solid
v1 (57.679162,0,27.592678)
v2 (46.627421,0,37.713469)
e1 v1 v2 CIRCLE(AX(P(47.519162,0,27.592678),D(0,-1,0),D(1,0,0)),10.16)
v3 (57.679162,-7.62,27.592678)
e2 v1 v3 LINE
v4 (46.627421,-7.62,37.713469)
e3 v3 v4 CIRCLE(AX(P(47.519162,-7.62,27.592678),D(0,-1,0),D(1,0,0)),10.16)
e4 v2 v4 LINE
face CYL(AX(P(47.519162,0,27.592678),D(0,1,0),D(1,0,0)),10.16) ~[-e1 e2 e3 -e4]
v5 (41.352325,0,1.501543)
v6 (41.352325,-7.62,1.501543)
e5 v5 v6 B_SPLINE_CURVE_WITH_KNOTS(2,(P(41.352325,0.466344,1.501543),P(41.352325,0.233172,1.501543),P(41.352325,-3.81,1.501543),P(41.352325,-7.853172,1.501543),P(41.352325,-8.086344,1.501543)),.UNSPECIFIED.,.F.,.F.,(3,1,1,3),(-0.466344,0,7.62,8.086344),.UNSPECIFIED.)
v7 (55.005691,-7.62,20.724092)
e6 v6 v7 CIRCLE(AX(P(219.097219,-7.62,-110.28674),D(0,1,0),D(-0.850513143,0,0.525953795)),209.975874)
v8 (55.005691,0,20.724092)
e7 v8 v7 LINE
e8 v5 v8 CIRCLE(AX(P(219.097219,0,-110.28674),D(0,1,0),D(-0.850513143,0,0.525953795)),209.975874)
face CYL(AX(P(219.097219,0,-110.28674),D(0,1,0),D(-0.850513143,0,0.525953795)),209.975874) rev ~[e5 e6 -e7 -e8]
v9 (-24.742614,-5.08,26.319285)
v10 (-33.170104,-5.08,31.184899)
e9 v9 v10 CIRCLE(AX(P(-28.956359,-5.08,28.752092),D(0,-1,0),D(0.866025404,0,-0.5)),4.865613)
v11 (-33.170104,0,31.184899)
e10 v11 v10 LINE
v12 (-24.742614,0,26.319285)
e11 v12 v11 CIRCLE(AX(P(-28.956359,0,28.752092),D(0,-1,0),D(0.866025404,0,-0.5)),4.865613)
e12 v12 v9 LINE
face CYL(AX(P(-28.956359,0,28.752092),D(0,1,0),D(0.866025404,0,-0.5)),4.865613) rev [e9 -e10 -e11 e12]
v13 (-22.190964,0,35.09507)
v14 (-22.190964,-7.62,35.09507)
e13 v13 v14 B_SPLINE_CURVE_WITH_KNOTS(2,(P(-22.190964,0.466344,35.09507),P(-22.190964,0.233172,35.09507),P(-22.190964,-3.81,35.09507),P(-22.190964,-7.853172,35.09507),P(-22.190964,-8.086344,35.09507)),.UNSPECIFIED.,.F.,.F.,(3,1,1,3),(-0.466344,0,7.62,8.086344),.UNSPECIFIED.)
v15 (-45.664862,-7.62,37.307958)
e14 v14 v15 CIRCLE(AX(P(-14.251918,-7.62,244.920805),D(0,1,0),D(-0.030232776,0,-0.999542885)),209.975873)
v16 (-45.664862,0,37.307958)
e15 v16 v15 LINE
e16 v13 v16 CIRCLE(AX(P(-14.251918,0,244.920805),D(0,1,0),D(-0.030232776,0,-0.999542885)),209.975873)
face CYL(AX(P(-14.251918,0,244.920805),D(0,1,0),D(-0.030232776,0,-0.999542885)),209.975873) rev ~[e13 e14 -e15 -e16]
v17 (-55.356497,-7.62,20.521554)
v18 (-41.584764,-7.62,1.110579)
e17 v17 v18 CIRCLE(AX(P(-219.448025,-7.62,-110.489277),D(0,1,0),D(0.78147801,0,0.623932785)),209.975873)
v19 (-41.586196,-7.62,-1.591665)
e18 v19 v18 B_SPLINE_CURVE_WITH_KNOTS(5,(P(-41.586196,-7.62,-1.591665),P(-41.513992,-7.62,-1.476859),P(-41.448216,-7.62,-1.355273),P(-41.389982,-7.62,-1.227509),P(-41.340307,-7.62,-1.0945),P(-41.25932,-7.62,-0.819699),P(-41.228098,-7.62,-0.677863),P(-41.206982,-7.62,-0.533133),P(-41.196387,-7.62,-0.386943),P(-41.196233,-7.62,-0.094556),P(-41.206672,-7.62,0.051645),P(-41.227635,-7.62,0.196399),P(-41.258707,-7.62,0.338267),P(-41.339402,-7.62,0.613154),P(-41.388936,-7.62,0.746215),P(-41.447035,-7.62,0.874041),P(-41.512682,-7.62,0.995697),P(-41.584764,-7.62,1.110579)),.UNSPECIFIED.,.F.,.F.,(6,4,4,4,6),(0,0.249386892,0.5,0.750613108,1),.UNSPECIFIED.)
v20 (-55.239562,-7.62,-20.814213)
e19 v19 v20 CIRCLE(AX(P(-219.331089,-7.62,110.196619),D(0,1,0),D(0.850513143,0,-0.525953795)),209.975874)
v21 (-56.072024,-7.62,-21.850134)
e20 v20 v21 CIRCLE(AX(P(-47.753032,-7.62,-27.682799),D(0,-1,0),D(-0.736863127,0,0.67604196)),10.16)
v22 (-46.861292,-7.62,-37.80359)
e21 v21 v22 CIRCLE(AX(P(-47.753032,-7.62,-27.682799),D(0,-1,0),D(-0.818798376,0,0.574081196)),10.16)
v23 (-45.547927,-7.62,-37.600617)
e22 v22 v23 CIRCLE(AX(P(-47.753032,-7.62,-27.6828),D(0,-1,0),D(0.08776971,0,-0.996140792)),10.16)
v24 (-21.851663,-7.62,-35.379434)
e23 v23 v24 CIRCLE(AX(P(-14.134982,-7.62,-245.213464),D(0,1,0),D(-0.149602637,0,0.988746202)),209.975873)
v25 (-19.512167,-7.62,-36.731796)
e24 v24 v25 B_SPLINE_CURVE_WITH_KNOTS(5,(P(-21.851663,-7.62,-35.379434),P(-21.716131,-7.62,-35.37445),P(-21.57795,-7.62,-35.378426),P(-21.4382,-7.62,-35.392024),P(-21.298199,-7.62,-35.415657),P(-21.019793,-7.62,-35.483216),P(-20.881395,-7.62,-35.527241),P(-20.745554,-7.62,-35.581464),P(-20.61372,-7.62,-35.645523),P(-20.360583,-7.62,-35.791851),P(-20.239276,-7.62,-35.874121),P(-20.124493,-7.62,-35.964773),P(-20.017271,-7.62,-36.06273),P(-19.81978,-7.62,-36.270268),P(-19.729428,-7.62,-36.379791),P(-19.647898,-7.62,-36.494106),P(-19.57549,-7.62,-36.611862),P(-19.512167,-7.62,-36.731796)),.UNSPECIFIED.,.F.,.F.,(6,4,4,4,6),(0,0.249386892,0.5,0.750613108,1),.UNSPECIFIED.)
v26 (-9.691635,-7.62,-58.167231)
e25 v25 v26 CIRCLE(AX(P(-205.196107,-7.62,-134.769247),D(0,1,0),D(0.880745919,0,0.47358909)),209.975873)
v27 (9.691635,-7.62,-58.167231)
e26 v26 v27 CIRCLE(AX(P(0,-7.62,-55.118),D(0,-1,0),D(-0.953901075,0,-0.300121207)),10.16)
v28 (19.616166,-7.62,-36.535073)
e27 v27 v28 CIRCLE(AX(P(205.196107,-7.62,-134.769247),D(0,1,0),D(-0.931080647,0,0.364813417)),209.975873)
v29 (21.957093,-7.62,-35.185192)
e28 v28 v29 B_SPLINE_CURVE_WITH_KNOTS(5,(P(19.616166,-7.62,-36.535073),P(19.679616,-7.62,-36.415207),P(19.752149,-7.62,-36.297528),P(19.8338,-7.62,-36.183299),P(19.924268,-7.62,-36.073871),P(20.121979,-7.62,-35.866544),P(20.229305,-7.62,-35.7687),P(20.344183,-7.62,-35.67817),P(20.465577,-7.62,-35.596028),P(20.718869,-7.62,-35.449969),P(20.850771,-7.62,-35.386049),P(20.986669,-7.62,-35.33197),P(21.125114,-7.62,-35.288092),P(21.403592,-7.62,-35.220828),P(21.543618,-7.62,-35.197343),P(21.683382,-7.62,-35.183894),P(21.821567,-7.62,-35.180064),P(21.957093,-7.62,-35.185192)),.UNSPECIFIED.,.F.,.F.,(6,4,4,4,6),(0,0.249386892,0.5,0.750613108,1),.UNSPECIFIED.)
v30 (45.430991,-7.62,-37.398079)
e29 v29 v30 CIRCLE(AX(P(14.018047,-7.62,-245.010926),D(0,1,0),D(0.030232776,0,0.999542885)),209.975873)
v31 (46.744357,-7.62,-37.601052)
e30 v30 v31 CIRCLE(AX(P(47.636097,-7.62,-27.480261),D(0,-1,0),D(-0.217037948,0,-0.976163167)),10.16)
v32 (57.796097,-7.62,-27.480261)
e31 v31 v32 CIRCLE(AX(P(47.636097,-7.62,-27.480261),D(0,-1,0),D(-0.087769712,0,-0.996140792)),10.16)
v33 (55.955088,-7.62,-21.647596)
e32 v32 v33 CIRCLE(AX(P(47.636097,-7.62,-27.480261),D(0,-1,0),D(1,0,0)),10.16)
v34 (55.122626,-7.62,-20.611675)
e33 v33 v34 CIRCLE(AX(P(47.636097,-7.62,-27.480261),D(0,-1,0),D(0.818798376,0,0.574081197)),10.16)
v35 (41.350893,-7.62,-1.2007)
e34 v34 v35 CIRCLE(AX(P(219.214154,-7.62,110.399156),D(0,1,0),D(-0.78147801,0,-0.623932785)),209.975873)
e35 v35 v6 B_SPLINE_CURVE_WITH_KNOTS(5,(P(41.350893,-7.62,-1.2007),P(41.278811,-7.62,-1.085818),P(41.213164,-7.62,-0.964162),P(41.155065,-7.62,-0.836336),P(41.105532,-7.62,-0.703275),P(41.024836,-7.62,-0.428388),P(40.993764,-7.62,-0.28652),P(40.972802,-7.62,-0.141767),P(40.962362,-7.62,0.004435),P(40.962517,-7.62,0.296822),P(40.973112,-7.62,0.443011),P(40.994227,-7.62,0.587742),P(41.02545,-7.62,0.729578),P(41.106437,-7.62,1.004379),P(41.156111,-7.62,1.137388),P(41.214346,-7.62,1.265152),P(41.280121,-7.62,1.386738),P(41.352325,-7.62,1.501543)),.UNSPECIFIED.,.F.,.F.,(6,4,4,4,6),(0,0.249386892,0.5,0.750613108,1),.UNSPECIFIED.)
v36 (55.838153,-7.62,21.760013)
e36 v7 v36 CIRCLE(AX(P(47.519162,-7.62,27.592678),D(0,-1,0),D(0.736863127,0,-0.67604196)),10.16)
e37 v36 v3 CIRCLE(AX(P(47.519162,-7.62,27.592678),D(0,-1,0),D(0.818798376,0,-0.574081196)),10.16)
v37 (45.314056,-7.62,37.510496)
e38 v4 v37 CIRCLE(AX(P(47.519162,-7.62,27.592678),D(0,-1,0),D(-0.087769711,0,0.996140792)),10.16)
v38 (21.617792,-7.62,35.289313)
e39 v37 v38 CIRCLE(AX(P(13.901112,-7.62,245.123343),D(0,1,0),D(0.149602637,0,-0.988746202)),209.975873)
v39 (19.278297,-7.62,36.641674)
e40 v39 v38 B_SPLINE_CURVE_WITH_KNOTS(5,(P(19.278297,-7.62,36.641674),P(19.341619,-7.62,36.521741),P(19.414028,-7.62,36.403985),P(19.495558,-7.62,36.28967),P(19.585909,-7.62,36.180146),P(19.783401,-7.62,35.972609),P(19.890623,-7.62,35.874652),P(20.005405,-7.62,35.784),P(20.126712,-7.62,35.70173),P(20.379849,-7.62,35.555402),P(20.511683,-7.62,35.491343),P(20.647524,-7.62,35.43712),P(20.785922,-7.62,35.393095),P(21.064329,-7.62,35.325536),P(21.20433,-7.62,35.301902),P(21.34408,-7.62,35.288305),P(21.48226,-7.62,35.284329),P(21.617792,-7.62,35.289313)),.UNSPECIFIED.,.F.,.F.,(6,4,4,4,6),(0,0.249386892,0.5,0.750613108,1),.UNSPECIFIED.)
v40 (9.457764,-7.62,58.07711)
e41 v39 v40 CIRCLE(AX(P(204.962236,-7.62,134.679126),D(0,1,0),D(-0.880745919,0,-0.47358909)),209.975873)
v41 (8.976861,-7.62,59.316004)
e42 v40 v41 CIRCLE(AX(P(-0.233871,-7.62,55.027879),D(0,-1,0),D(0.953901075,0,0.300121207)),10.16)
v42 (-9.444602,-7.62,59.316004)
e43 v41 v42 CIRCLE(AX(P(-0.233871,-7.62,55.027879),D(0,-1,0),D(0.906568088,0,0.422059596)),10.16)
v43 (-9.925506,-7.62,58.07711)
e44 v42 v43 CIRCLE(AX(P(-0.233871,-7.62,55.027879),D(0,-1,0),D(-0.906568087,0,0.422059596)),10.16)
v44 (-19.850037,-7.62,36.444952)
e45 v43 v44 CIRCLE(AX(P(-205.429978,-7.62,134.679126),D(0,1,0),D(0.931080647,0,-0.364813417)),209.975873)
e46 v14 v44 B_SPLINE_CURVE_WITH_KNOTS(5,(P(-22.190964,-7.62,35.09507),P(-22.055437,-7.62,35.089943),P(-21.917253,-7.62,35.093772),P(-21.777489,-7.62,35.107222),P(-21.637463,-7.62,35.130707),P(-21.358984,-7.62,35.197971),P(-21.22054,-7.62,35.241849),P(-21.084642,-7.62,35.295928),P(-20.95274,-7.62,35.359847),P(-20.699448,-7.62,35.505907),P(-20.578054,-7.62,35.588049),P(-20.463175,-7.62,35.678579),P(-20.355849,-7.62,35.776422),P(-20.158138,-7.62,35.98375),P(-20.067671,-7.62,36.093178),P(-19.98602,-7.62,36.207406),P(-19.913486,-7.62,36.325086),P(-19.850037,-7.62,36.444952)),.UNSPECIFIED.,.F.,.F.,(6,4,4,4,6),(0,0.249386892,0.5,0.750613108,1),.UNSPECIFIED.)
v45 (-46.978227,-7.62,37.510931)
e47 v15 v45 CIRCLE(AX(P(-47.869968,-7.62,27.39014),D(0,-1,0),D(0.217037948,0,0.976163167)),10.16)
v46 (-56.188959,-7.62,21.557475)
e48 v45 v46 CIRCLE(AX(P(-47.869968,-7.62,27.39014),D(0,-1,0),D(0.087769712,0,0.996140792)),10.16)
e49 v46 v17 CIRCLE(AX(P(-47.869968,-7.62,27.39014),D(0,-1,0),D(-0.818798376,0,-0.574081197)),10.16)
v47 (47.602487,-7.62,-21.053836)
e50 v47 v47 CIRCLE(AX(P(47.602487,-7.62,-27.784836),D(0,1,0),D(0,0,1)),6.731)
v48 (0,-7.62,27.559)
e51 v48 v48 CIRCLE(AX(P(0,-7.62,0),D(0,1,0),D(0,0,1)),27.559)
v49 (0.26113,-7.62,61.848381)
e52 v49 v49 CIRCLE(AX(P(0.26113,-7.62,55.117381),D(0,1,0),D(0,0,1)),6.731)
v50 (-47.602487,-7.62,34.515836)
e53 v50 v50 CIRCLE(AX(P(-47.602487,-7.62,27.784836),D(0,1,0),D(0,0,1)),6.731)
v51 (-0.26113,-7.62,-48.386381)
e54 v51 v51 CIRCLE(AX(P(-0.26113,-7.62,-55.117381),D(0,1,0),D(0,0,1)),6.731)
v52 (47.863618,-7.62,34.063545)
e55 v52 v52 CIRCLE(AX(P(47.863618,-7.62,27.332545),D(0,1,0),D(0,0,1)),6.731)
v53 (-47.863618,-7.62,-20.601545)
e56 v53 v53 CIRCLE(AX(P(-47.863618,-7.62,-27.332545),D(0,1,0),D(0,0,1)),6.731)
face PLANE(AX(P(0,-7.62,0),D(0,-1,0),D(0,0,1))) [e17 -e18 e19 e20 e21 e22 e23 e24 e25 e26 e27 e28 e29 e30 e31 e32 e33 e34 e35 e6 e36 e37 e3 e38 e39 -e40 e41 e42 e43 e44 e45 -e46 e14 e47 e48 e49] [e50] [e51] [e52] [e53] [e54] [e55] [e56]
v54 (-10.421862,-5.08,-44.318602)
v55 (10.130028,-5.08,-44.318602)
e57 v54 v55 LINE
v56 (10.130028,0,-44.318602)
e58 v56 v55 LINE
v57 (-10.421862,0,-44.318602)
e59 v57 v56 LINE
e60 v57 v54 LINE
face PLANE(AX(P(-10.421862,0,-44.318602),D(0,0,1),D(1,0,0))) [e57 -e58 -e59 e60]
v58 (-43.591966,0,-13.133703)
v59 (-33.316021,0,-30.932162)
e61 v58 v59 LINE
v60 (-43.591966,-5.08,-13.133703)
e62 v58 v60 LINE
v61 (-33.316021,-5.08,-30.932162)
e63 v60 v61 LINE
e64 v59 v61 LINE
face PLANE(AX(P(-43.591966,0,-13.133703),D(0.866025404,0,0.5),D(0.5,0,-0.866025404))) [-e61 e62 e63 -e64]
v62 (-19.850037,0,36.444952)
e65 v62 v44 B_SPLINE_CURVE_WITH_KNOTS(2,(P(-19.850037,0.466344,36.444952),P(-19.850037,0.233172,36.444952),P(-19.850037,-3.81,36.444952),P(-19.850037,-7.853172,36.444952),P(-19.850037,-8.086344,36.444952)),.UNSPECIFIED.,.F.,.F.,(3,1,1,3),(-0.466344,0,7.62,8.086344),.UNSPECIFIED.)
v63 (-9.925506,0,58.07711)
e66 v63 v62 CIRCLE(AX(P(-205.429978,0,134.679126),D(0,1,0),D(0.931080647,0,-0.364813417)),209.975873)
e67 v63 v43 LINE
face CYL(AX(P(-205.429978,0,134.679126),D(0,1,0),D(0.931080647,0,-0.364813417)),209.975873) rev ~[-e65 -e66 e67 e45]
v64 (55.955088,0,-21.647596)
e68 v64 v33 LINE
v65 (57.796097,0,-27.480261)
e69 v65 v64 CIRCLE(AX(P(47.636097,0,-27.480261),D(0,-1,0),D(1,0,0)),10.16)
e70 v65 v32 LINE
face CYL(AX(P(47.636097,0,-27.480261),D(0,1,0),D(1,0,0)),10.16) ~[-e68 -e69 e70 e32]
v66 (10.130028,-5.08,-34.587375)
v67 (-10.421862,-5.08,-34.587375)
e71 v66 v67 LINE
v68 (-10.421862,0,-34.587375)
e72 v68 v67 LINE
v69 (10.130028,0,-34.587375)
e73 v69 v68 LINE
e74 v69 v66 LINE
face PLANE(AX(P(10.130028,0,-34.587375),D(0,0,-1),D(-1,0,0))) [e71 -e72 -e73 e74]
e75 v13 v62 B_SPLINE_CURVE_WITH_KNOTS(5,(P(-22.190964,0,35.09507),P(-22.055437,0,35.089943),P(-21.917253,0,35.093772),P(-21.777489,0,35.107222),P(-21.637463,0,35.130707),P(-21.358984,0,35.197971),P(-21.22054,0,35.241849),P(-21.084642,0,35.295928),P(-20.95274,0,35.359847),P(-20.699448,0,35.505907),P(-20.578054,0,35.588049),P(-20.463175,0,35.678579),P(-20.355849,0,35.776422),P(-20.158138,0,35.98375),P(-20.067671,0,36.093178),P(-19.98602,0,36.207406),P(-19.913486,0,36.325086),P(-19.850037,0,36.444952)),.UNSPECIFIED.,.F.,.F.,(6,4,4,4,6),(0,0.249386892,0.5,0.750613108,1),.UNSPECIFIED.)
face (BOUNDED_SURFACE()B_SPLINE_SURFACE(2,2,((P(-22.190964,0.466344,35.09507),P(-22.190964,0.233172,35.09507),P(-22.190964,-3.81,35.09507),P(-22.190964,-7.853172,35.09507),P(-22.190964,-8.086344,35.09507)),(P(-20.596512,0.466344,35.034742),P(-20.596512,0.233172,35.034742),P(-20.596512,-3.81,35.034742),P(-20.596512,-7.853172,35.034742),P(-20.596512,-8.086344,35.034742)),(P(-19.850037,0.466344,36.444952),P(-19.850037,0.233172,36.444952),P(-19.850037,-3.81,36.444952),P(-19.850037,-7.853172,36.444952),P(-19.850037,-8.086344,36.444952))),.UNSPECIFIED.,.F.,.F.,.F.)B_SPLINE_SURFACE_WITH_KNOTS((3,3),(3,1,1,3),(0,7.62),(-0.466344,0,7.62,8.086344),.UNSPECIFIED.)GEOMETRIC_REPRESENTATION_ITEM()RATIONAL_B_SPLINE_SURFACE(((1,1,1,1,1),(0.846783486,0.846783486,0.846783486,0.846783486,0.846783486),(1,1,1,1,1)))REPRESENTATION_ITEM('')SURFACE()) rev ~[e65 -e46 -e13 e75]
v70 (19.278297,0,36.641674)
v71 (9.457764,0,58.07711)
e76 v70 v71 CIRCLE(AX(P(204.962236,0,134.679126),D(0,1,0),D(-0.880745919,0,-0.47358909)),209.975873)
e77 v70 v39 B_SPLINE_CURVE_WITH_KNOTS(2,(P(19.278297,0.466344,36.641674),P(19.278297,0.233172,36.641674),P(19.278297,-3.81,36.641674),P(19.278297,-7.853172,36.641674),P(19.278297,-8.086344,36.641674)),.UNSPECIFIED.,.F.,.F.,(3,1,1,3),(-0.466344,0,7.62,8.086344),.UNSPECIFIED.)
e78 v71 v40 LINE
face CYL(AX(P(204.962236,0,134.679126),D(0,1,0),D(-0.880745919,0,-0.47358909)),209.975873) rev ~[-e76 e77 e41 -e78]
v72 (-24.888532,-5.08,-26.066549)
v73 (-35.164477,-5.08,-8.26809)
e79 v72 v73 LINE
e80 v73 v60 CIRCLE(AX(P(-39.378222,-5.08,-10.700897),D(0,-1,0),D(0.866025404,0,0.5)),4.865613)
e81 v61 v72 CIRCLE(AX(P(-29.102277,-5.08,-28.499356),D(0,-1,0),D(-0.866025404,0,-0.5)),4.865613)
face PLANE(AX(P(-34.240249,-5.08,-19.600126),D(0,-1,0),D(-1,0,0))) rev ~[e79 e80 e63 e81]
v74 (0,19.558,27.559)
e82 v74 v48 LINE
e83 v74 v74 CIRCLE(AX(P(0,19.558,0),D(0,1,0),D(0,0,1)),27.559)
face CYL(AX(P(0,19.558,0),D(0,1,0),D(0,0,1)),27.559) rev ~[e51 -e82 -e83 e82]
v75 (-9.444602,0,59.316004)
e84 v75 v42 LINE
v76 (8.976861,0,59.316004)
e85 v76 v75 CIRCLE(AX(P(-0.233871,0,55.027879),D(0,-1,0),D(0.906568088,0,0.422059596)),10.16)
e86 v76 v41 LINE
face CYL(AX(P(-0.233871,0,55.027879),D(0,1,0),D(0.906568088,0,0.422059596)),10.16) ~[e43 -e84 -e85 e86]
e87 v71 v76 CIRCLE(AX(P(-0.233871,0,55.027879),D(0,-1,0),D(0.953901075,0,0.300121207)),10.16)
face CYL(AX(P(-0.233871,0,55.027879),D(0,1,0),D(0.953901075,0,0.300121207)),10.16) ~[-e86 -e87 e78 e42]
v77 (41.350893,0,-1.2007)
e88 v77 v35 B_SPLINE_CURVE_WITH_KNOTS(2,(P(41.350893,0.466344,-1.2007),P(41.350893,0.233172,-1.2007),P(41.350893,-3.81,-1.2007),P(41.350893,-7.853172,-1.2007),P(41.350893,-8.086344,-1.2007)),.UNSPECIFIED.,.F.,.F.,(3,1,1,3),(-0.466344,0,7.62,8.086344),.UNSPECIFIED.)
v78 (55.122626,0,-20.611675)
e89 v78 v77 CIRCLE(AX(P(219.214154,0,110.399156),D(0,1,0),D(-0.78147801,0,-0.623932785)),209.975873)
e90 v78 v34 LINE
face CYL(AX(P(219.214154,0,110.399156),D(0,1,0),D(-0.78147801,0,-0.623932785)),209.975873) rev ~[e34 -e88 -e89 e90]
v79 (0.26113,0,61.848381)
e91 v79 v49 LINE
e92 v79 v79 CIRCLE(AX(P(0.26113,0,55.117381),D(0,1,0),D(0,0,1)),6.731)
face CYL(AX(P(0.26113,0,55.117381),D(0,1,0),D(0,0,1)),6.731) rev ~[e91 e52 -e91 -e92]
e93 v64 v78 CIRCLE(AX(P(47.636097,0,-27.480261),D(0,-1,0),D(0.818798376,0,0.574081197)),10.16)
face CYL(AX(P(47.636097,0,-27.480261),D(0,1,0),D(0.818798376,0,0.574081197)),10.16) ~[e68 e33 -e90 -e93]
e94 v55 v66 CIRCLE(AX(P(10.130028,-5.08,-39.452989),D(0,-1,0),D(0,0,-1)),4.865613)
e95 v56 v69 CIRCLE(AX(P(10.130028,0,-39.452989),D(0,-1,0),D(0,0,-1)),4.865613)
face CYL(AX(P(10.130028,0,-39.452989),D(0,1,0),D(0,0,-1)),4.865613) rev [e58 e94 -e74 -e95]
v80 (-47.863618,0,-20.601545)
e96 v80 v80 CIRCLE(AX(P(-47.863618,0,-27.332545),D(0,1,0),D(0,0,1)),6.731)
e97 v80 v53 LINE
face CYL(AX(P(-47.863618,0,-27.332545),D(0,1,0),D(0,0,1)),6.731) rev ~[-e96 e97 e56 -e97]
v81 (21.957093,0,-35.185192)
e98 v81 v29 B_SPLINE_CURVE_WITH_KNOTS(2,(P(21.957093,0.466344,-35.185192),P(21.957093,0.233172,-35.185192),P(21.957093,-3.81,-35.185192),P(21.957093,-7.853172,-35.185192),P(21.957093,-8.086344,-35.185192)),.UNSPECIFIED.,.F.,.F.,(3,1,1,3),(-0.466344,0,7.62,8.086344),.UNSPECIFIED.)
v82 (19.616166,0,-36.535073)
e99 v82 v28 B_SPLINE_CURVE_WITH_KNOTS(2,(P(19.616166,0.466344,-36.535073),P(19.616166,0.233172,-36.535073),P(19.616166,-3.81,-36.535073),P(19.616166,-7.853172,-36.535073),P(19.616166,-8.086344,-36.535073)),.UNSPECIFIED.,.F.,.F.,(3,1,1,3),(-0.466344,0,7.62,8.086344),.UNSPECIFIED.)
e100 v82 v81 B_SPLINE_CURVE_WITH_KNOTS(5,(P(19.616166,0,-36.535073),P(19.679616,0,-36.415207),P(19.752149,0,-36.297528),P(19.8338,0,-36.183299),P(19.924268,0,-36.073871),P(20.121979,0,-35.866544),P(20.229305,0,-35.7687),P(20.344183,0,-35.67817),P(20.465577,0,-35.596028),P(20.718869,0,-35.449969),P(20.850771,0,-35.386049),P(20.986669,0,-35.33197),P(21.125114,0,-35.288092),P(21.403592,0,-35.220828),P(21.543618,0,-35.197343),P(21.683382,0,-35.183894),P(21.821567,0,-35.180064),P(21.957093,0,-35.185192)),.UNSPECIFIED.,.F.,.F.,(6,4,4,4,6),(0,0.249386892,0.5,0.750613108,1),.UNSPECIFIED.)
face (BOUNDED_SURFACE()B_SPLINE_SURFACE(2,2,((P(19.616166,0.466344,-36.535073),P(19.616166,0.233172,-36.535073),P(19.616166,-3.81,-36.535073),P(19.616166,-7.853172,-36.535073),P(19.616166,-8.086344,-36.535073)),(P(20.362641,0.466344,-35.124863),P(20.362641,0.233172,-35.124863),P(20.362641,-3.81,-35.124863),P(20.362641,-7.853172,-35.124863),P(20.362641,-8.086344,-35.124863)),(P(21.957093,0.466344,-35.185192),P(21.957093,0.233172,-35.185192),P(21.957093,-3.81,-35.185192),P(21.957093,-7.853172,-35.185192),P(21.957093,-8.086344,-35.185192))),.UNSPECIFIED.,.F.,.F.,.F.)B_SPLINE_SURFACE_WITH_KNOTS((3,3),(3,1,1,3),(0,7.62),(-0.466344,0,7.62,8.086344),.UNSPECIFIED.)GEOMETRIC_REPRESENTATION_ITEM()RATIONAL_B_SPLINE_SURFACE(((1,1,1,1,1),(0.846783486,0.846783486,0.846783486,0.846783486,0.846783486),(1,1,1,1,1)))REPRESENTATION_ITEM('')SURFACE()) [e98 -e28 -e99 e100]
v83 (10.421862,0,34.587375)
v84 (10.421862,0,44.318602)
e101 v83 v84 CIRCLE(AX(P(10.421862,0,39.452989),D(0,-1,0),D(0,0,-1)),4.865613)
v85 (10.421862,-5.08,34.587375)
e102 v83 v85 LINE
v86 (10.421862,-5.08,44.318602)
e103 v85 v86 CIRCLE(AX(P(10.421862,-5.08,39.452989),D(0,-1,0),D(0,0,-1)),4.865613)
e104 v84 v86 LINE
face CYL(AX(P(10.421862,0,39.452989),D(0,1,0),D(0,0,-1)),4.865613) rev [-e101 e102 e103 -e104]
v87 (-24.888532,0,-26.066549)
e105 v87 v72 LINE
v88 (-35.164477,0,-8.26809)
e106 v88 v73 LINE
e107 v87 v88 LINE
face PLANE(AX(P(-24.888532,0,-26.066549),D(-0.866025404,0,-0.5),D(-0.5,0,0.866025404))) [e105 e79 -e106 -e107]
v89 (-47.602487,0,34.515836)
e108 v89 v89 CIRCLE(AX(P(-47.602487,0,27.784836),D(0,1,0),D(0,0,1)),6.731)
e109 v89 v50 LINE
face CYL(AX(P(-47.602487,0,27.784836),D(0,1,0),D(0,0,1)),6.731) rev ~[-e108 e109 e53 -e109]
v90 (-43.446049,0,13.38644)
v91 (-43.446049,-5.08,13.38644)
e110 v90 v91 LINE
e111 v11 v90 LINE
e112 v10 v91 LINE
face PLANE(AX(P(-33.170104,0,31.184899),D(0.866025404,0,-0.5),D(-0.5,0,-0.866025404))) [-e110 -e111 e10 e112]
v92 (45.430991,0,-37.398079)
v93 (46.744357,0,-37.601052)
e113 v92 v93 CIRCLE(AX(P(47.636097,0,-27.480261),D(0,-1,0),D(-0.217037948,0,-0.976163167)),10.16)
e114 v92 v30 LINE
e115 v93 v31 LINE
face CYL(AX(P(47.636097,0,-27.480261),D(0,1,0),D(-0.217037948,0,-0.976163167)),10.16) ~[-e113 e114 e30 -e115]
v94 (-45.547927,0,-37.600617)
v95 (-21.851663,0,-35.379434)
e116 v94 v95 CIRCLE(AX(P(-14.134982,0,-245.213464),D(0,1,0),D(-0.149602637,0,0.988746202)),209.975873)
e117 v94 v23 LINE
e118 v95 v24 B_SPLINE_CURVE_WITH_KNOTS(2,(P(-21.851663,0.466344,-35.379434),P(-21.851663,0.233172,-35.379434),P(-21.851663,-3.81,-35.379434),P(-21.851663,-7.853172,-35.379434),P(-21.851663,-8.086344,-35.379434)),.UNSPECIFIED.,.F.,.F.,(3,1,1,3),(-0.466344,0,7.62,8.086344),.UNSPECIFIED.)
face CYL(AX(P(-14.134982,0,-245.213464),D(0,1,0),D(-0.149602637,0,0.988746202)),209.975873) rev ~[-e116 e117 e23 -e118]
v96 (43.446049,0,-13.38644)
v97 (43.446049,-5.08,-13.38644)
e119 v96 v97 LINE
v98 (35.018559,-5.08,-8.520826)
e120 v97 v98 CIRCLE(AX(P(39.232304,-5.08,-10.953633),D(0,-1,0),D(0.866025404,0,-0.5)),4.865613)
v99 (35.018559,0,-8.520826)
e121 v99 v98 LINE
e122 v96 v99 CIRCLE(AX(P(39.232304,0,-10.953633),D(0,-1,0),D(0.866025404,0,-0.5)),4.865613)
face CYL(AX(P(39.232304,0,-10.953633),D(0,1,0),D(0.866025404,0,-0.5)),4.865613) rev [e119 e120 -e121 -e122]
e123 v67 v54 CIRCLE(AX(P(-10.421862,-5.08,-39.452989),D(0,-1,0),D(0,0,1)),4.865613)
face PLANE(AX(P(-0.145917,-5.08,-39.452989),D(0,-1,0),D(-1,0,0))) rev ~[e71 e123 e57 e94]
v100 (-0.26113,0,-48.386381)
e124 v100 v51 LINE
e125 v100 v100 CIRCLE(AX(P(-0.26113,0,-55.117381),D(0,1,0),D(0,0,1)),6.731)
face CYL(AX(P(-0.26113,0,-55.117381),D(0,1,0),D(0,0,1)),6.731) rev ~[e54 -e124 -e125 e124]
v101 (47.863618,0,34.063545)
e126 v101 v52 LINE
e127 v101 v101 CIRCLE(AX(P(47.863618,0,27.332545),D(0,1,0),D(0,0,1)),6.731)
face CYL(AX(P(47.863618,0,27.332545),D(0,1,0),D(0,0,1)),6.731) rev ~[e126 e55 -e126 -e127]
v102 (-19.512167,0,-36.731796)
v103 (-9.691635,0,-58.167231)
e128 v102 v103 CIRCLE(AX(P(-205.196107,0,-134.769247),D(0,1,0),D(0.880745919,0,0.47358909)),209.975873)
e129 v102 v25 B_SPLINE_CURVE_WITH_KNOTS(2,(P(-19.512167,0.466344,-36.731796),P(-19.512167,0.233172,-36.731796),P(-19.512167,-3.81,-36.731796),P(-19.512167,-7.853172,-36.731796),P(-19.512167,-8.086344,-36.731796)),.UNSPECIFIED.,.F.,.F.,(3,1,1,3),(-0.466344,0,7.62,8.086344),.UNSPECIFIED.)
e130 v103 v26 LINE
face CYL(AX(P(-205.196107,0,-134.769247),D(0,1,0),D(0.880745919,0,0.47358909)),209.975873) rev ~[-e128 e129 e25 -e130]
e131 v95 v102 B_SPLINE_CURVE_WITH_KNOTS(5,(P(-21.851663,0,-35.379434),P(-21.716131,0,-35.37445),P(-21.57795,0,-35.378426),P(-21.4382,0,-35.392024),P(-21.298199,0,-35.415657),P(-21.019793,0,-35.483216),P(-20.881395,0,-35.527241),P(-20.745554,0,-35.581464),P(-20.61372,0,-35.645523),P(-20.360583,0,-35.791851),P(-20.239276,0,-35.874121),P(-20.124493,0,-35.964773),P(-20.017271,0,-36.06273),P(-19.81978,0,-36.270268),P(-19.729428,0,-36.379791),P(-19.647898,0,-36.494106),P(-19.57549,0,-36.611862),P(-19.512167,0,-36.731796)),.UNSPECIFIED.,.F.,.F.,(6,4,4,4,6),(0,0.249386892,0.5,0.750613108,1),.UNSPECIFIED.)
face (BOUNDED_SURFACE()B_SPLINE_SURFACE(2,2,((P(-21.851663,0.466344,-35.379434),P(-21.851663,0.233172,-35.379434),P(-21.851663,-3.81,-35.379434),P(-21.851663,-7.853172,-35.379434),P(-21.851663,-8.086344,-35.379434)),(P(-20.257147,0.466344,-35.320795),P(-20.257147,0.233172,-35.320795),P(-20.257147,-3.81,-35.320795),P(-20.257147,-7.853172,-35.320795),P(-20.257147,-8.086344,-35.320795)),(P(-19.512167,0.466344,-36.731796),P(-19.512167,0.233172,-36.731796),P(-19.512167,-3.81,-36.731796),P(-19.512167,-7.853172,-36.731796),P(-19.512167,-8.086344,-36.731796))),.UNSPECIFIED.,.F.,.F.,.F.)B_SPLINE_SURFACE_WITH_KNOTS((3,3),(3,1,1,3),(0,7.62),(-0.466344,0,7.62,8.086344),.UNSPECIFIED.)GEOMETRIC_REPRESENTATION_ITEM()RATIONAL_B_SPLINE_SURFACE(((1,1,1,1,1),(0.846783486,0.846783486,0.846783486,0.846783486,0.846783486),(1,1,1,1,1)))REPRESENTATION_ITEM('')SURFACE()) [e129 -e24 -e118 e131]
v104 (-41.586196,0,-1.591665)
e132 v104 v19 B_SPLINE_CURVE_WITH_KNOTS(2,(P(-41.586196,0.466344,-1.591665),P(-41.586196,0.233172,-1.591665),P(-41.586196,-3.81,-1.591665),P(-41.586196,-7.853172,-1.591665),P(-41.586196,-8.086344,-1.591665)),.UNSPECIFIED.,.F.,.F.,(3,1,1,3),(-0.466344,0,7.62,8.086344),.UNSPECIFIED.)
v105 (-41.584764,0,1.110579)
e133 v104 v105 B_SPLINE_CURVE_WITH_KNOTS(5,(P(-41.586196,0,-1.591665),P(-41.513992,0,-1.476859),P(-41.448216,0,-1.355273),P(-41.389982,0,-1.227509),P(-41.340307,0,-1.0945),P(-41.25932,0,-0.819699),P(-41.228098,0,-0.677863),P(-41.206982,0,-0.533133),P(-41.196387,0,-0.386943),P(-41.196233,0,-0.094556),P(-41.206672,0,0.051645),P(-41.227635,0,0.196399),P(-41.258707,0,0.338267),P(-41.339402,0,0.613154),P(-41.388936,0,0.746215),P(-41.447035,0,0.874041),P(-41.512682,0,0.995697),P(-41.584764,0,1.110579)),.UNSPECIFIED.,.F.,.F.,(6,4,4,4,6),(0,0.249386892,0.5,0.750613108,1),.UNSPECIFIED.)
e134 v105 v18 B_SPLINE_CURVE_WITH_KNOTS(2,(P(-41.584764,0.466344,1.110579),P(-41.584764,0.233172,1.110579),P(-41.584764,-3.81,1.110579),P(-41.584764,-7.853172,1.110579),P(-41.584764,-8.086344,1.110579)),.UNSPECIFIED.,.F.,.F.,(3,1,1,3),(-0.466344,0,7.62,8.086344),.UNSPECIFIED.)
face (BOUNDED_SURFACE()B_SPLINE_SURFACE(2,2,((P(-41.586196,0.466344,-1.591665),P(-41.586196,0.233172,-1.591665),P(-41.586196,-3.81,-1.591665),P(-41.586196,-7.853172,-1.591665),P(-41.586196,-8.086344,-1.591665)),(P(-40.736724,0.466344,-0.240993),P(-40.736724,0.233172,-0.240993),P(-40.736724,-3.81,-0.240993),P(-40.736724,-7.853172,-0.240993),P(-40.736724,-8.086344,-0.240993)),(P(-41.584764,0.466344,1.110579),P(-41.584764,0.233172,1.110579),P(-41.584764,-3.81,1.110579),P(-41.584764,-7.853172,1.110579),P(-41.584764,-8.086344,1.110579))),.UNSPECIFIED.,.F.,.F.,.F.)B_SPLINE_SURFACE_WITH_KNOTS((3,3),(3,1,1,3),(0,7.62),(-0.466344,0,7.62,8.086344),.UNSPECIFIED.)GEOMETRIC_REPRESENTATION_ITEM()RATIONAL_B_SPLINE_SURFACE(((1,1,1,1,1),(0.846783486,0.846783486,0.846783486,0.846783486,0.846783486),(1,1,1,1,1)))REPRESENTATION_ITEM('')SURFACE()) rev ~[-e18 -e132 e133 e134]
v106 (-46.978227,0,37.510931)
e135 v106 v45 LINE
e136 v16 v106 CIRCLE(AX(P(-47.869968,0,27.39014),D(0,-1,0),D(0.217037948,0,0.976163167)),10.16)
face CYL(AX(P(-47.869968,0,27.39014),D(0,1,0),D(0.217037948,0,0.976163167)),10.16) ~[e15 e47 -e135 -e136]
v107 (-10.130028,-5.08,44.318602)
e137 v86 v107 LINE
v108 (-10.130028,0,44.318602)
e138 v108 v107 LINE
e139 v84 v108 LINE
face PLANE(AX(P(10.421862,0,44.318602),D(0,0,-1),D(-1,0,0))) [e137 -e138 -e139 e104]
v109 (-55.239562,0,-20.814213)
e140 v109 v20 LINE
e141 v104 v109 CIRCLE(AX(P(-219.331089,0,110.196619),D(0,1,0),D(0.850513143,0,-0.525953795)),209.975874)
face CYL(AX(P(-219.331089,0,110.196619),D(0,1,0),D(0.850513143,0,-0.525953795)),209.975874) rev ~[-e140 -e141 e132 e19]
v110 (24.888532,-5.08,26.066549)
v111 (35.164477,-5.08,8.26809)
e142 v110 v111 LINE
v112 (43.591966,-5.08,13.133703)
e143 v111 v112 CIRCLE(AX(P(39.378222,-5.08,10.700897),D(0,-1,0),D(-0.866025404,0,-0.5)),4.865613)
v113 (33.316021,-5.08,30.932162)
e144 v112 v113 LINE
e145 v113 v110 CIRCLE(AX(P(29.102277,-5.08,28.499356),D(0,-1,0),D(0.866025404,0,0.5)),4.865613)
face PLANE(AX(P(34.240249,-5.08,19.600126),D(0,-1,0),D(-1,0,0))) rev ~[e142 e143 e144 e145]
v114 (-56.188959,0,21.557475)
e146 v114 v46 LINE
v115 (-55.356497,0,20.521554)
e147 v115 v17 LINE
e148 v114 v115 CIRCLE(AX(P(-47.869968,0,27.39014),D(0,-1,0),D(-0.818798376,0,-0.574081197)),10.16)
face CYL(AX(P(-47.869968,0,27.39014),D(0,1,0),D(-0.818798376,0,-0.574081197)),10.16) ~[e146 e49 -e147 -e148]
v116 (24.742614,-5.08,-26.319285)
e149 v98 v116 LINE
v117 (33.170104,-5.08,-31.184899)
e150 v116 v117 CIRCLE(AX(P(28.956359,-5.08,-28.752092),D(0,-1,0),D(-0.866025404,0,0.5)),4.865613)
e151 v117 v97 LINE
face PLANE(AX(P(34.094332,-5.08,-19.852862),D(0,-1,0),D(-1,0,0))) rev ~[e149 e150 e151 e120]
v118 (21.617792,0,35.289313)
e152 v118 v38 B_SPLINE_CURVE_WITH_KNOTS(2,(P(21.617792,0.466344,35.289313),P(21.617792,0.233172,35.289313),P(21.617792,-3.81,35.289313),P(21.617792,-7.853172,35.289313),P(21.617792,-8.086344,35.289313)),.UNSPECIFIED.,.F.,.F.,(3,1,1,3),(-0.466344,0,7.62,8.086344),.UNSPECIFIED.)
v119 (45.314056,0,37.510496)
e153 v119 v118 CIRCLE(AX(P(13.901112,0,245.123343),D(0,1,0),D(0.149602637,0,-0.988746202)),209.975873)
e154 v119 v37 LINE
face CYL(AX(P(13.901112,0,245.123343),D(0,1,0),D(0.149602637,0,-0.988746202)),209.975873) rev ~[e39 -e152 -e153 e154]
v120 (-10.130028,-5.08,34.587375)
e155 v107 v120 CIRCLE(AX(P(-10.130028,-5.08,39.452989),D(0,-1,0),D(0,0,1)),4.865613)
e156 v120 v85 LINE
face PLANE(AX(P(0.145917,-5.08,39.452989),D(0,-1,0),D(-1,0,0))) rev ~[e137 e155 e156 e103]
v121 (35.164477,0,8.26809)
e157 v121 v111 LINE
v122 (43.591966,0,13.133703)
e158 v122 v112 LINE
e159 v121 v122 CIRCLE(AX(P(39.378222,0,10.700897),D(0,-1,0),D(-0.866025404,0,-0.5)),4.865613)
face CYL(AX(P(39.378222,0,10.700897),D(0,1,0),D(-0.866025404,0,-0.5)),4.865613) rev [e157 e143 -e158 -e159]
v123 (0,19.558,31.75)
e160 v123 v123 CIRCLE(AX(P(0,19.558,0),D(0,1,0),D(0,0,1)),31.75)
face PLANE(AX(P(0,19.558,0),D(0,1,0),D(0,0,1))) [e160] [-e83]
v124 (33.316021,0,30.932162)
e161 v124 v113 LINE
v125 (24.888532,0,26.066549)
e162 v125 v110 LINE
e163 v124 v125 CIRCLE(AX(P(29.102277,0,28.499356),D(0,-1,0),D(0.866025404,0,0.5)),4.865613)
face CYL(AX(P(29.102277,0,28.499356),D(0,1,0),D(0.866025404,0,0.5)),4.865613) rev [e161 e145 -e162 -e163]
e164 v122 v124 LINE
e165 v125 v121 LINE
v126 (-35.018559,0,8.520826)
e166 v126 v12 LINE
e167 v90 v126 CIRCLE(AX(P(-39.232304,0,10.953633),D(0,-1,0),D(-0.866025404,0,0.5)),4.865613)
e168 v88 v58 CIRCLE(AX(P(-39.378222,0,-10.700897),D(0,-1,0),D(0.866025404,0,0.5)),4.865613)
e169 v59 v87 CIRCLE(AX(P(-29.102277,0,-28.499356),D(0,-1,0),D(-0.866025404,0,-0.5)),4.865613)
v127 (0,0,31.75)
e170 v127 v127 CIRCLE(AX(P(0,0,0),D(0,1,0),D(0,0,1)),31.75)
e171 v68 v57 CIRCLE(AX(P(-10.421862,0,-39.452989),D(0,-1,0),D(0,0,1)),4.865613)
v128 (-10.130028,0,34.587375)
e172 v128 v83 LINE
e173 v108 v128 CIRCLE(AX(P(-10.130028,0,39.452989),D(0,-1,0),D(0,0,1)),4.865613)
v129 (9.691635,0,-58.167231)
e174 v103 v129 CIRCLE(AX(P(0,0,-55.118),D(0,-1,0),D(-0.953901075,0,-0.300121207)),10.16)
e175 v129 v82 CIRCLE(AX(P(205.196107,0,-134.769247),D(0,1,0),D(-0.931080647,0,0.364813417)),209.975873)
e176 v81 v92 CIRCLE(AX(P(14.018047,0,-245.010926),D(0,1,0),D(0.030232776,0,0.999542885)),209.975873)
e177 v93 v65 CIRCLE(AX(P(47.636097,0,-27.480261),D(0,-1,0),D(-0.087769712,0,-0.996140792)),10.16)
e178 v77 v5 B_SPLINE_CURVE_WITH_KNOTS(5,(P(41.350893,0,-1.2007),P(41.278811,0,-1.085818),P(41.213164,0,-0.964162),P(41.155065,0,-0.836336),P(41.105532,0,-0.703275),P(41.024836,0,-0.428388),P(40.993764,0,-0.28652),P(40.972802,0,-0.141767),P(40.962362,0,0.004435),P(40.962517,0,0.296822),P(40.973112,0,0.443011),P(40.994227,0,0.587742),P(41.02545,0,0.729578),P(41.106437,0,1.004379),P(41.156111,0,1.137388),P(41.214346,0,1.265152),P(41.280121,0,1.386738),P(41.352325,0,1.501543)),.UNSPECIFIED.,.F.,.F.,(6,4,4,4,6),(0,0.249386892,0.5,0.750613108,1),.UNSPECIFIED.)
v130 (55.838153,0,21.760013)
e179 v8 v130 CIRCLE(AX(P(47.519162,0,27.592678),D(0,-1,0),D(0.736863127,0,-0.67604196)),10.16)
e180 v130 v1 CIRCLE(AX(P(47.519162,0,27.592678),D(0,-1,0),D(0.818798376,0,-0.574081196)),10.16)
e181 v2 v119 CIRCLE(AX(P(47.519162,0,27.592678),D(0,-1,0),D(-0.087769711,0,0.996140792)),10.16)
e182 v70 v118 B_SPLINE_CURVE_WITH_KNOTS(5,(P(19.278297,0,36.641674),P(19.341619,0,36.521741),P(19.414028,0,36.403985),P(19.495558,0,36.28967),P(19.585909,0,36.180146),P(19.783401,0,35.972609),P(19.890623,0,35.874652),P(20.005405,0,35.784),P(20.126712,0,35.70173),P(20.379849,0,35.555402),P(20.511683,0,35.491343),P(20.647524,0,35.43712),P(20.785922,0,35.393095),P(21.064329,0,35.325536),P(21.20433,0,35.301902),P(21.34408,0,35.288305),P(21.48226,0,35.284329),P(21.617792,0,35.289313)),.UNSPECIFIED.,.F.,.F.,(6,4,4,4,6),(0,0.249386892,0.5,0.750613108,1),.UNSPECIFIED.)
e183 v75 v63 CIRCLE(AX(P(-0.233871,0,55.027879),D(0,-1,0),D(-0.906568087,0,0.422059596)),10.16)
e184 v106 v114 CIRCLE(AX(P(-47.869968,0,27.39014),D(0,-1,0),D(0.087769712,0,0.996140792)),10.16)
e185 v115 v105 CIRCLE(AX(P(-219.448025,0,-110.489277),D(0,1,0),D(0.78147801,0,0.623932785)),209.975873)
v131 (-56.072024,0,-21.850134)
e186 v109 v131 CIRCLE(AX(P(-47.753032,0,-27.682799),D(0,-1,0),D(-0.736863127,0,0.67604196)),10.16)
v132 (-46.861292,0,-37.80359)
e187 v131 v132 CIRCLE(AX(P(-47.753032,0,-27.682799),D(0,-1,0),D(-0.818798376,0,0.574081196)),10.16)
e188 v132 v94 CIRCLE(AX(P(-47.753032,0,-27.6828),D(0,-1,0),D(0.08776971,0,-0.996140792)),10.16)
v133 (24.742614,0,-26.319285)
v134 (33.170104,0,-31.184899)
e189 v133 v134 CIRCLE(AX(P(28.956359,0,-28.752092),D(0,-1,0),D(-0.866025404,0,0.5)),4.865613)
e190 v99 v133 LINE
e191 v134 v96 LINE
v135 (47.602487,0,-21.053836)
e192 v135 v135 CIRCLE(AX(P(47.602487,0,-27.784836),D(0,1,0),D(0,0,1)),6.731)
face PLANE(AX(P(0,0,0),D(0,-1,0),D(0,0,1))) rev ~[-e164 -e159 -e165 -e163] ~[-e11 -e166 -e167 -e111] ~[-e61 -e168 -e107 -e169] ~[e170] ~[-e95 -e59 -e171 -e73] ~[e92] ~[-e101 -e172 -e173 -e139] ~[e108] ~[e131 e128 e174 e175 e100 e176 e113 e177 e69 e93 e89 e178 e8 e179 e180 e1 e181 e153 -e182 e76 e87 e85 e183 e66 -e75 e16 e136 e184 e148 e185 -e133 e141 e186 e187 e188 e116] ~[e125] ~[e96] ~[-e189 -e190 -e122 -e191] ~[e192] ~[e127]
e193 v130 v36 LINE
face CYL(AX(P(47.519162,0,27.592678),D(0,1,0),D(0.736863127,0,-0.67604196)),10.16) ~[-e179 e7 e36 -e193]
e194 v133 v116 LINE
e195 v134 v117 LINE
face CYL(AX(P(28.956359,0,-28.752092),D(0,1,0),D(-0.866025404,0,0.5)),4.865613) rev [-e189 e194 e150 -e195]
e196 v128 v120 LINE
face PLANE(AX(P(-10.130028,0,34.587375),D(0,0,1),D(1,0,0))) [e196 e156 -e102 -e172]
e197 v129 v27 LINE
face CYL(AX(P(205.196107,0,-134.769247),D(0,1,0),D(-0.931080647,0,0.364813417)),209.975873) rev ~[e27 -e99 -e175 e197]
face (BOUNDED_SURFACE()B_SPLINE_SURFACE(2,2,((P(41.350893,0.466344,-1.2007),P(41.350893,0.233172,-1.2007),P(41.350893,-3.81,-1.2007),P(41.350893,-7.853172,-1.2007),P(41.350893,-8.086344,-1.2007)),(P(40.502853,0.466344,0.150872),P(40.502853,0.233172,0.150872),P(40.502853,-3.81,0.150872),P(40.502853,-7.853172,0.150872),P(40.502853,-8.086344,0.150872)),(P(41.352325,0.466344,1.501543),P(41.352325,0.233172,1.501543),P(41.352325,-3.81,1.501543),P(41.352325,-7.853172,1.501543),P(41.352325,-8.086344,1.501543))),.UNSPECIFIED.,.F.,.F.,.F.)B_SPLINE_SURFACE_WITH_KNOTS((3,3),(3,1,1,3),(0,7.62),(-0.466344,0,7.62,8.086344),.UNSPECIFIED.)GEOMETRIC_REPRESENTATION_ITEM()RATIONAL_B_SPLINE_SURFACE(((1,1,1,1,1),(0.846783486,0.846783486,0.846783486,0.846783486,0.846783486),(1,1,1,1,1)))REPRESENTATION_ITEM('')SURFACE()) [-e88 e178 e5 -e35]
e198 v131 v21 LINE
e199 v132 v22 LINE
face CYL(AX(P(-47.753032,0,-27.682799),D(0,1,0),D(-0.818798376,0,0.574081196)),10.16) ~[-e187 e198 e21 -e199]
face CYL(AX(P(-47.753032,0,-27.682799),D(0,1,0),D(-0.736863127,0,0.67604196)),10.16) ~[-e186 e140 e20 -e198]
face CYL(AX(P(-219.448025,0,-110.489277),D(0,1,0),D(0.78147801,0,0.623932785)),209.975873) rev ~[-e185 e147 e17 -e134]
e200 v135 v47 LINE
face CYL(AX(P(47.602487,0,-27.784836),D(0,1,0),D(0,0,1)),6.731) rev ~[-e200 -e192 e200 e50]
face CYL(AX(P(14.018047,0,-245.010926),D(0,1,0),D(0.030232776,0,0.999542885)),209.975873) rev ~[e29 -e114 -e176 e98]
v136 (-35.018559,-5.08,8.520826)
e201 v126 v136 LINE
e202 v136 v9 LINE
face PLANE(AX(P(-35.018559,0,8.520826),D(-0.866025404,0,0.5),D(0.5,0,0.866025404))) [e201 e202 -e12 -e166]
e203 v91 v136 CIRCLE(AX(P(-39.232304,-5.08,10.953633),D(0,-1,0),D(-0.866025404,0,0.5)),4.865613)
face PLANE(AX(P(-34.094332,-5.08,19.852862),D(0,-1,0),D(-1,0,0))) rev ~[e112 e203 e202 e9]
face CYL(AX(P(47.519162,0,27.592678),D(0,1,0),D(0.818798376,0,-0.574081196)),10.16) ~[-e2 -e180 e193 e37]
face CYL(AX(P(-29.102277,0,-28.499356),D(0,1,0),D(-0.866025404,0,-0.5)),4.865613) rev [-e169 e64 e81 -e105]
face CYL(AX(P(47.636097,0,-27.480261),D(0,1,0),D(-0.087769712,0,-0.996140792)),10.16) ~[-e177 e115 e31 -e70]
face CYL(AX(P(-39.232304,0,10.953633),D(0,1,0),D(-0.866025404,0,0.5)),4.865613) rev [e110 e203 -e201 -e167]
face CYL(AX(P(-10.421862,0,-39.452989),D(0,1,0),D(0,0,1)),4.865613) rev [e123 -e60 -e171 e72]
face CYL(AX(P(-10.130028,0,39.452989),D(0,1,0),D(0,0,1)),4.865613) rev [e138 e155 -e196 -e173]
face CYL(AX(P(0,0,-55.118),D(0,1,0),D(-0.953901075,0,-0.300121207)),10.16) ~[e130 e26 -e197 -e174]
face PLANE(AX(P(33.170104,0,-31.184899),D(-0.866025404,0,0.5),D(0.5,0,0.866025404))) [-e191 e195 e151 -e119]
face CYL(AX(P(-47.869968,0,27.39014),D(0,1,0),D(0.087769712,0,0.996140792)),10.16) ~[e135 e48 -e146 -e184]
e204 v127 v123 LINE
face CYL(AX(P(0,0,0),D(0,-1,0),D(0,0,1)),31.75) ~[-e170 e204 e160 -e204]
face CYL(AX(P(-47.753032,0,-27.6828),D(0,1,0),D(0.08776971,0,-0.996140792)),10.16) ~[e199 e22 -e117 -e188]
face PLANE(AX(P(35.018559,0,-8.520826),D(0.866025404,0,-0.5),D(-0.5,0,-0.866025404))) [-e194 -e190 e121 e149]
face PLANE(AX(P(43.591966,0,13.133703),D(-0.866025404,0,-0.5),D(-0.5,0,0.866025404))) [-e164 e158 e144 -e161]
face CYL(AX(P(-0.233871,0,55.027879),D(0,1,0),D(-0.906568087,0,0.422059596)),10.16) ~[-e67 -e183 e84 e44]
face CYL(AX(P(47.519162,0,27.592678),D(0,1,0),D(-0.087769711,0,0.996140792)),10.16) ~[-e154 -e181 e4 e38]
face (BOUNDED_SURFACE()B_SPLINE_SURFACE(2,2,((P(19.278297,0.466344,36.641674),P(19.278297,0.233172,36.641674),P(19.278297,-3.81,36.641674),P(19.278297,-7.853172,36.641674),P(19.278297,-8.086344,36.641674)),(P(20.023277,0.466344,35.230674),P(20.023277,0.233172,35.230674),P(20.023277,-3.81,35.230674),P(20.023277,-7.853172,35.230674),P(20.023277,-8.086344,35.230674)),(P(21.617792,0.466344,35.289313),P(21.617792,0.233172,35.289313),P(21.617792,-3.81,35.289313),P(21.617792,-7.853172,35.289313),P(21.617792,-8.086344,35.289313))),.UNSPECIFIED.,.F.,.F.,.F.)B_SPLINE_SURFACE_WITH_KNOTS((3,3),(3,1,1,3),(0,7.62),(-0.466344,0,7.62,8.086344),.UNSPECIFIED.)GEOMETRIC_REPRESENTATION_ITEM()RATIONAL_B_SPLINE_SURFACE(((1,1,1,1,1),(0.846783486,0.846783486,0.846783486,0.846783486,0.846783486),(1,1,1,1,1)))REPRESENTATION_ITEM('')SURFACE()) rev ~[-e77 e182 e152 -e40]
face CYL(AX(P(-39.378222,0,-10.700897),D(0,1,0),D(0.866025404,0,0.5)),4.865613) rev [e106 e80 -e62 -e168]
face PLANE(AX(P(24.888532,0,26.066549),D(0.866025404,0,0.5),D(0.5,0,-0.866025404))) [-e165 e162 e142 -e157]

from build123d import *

# Parameters (mm, degrees)
SKETCH1_R                 = 31.75
CENTERCIRCLEEXTRUDE_DEPTH = 19.558
SKETCH2_R                 = 80.01
BASEEXPAND_DEPTH          = 7.62
SKETCH3_R                 = 27.559
CENTERCUT_DEPTH           = 27.178
SKETCH4_R                 = 6.731
OUTERCIRCLECUT_DEPTH      = 7.62
SKETCH8_R                 = 80.01
STARFISHCUT_DEPTH         = 7.62
BATMAN_CUT_DEPTH          = 5.08
FILLET1_R                 = 2.54


with BuildPart() as part:
    # Sketch1 → CenterCircleExtrude (new body)
    with BuildSketch(Plane(origin=(0, 0, 0), x_dir=(1, 0, 0), z_dir=(0, 1, 0))):
        Circle(SKETCH1_R)
    extrude(amount=CENTERCIRCLEEXTRUDE_DEPTH)

    # Sketch2 → BaseExpand (add)
    with BuildSketch(Plane.XZ):
        Circle(SKETCH2_R)
    extrude(amount=BASEEXPAND_DEPTH)

    # Sketch3 → CenterCut (cut)
    with BuildSketch(Plane(origin=(0, 19.558, 0), x_dir=(1, 0, 0), z_dir=(0, 1, 0))):
        Circle(SKETCH3_R)
    extrude(amount=-CENTERCUT_DEPTH, mode=Mode.SUBTRACT)

    # Sketch4 → OuterCircleCut (cut)
    with BuildSketch(Plane(origin=(0, 0, 0), x_dir=(1, 0, 0), z_dir=(0, 1, 0))):
        with Locations((-0.261130397, 55.117381423)):
            Circle(SKETCH4_R)
        with Locations((47.602487304, 27.784836269)):
            Circle(SKETCH4_R)
        with Locations((47.863617701, -27.332545154)):
            Circle(SKETCH4_R)
        with Locations((0.261130397, -55.117381423)):
            Circle(SKETCH4_R)
        with Locations((-47.602487304, -27.784836269)):
            Circle(SKETCH4_R)
        with Locations((-47.863617701, 27.332545154)):
            Circle(SKETCH4_R)
    extrude(amount=-OUTERCIRCLECUT_DEPTH, mode=Mode.SUBTRACT)

    # Sketch8 → StarfishCut (cut)
    with BuildSketch(Plane(origin=(0, 0, 0), x_dir=(1, 0, 0), z_dir=(0, 1, 0))):
        Circle(SKETCH8_R)
        with BuildLine():
            ThreePointArc((-9.691634922, 58.167231466), (0, 65.278), (9.691634922, 58.167231466))
            ThreePointArc((9.691634922, 58.167231466), (14.680421474, 46.487646722), (20.366200635, 35.131036031))
            ThreePointArc((20.366200635, 35.131036031), (32.932591729, 35.888695551), (45.430991402, 37.398079103))
            ThreePointArc((45.430991402, 37.398079103), (46.084351809, 37.521062437), (46.744356679, 37.60105177))
            ThreePointArc((46.744356679, 37.60105177), (54.497784748, 34.973113956), (57.796096952, 27.480261323))
            ThreePointArc((57.796096952, 27.480261323), (57.324919213, 24.422104494), (55.95508845, 21.647596369))
            ThreePointArc((55.95508845, 21.647596369), (55.55581322, 21.116010052), (55.122626325, 20.611675009))
            ThreePointArc((55.122626325, 20.611675009), (47.502202506, 10.451466749), (40.509978727, -0.15086779))
            ThreePointArc((40.509978727, -0.15086779), (47.449326667, -10.654851952), (55.005691003, -20.7240918))
            ThreePointArc((55.005691003, -20.7240918), (55.438877898, -21.228426843), (55.838153128, -21.76001316))
            ThreePointArc((55.838153128, -21.76001316), (57.207983891, -24.534521285), (57.67916163, -27.592678114))
            ThreePointArc((57.67916163, -27.592678114), (54.380849426, -35.085530747), (46.627421357, -37.713468561))
            ThreePointArc((46.627421357, -37.713468561), (45.967416487, -37.633479228), (45.31405608, -37.510495894))
            ThreePointArc((45.31405608, -37.510495894), (32.70484571, -35.991119409), (20.026842771, -35.236843257))
            ThreePointArc((20.026842771, -35.236843257), (14.399799615, -46.498486939), (9.457764278, -58.077110338))
            ThreePointArc((9.457764278, -58.077110338), (9.237590766, -58.704428716), (8.976861126, -59.316004366))
            ThreePointArc((8.976861126, -59.316004366), (-0.233870644, -65.187878872), (-9.444602414, -59.316004366))
            ThreePointArc((-9.444602414, -59.316004366), (-9.705332054, -58.704428716), (-9.925505566, -58.077110338))
            ThreePointArc((-9.925505566, -58.077110338), (-14.914292118, -46.397525594), (-20.600071279, -35.040914903))
            ThreePointArc((-20.600071279, -35.040914903), (-33.166462373, -35.798574423), (-45.664862046, -37.307957975))
            ThreePointArc((-45.664862046, -37.307957975), (-46.318222453, -37.430941309), (-46.978227323, -37.510930642))
            ThreePointArc((-46.978227323, -37.510930642), (-56.668785698, -32.470140195), (-56.188959094, -21.557475241))
            ThreePointArc((-56.188959094, -21.557475241), (-55.789683864, -21.025888924), (-55.356496969, -20.521553881))
            ThreePointArc((-55.356496969, -20.521553881), (-47.73607315, -10.361345621), (-40.743849371, 0.240988918))
            ThreePointArc((-40.743849371, 0.240988918), (-47.683197311, 10.74497308), (-55.239561647, 20.814212928))
            ThreePointArc((-55.239561647, 20.814212928), (-55.672748542, 21.318547971), (-56.072023772, 21.850134288))
            ThreePointArc((-56.072023772, 21.850134288), (-56.551850376, 32.762799241), (-46.861292001, 37.803589689))
            ThreePointArc((-46.861292001, 37.803589689), (-46.201287131, 37.723600356), (-45.547926724, 37.600617021))
            ThreePointArc((-45.547926724, 37.600617021), (-32.938716354, 36.081240537), (-20.260713415, 35.326964385))
            ThreePointArc((-20.260713415, 35.326964385), (-14.633670259, 46.588608067), (-9.691634922, 58.167231466))
        make_face(mode=Mode.SUBTRACT)
    extrude(amount=-STARFISHCUT_DEPTH, mode=Mode.SUBTRACT)

    # Sketch14 → Batman Cut (cut)
    with BuildSketch(Plane(origin=(0, 0, 0), x_dir=(1, 0, 0), z_dir=(0, 1, 0))):
        with BuildLine():
            Line((35.018559386, 8.520826348), (24.742614343, 26.319285257))
            ThreePointArc((24.742614343, 26.319285257), (26.523552445, 32.965836738), (33.170103927, 31.184898636))
            Line((33.170103927, 31.184898636), (43.446048969, 13.386439727))
            ThreePointArc((43.446048969, 13.386439727), (41.665110867, 6.739888246), (35.018559386, 8.520826348))
        make_face()
        with BuildLine():
            Line((24.888531771, -26.066548858), (35.164476813, -8.268089949))
            ThreePointArc((35.164476813, -8.268089949), (41.811028295, -6.487151847), (43.591966397, -13.133703329))
            Line((43.591966397, -13.133703329), (33.316021354, -30.932162238))
            ThreePointArc((33.316021354, -30.932162238), (26.669469873, -32.71310034), (24.888531771, -26.066548858))
        make_face()
        with BuildLine():
            Line((-10.130027615, -34.587375206), (10.42186247, -34.587375206))
            ThreePointArc((10.42186247, -34.587375206), (15.28747585, -39.452988585), (10.42186247, -44.318601965))
            Line((10.42186247, -44.318601965), (-10.130027615, -44.318601965))
            ThreePointArc((-10.130027615, -44.318601965), (-14.995640994, -39.452988585), (-10.130027615, -34.587375206))
        make_face()
        with BuildLine():
            Line((10.130027615, 34.587375206), (-10.42186247, 34.587375206))
            ThreePointArc((-10.42186247, 34.587375206), (-15.28747585, 39.452988585), (-10.42186247, 44.318601965))
            Line((-10.42186247, 44.318601965), (10.130027615, 44.318601965))
            ThreePointArc((10.130027615, 44.318601965), (14.995640994, 39.452988585), (10.130027615, 34.587375206))
        make_face()
        with BuildLine():
            Line((-35.018559386, -8.520826348), (-24.742614343, -26.319285257))
            ThreePointArc((-24.742614343, -26.319285257), (-26.523552445, -32.965836738), (-33.170103927, -31.184898636))
            Line((-33.170103927, -31.184898636), (-43.446048969, -13.386439727))
            ThreePointArc((-43.446048969, -13.386439727), (-41.665110867, -6.739888246), (-35.018559386, -8.520826348))
        make_face()
        with BuildLine():
            Line((-24.888531771, 26.066548858), (-35.164476813, 8.268089949))
            ThreePointArc((-35.164476813, 8.268089949), (-41.811028295, 6.487151847), (-43.591966397, 13.133703329))
            Line((-43.591966397, 13.133703329), (-33.316021354, 30.932162238))
            ThreePointArc((-33.316021354, 30.932162238), (-26.669469873, 32.71310034), (-24.888531771, 26.066548858))
        make_face()
    extrude(amount=-BATMAN_CUT_DEPTH, mode=Mode.SUBTRACT)

    # Fillet1
    fillet1_edges = [part.edges().sort_by_distance(p)[0] for p in [
        (20.366200635, -3.81, -35.131036031),
        (-20.260713415, -3.81, -35.326964385),
        (-40.743849371, -3.81, -0.240988918),
        (-20.600071279, -3.81, 35.040914903),
        (20.026842771, -3.81, 35.236843257),
        (40.509978727, -3.81, 0.15086779),
    ]]
    fillet(fillet1_edges, radius=FILLET1_R)


solid = part.part
